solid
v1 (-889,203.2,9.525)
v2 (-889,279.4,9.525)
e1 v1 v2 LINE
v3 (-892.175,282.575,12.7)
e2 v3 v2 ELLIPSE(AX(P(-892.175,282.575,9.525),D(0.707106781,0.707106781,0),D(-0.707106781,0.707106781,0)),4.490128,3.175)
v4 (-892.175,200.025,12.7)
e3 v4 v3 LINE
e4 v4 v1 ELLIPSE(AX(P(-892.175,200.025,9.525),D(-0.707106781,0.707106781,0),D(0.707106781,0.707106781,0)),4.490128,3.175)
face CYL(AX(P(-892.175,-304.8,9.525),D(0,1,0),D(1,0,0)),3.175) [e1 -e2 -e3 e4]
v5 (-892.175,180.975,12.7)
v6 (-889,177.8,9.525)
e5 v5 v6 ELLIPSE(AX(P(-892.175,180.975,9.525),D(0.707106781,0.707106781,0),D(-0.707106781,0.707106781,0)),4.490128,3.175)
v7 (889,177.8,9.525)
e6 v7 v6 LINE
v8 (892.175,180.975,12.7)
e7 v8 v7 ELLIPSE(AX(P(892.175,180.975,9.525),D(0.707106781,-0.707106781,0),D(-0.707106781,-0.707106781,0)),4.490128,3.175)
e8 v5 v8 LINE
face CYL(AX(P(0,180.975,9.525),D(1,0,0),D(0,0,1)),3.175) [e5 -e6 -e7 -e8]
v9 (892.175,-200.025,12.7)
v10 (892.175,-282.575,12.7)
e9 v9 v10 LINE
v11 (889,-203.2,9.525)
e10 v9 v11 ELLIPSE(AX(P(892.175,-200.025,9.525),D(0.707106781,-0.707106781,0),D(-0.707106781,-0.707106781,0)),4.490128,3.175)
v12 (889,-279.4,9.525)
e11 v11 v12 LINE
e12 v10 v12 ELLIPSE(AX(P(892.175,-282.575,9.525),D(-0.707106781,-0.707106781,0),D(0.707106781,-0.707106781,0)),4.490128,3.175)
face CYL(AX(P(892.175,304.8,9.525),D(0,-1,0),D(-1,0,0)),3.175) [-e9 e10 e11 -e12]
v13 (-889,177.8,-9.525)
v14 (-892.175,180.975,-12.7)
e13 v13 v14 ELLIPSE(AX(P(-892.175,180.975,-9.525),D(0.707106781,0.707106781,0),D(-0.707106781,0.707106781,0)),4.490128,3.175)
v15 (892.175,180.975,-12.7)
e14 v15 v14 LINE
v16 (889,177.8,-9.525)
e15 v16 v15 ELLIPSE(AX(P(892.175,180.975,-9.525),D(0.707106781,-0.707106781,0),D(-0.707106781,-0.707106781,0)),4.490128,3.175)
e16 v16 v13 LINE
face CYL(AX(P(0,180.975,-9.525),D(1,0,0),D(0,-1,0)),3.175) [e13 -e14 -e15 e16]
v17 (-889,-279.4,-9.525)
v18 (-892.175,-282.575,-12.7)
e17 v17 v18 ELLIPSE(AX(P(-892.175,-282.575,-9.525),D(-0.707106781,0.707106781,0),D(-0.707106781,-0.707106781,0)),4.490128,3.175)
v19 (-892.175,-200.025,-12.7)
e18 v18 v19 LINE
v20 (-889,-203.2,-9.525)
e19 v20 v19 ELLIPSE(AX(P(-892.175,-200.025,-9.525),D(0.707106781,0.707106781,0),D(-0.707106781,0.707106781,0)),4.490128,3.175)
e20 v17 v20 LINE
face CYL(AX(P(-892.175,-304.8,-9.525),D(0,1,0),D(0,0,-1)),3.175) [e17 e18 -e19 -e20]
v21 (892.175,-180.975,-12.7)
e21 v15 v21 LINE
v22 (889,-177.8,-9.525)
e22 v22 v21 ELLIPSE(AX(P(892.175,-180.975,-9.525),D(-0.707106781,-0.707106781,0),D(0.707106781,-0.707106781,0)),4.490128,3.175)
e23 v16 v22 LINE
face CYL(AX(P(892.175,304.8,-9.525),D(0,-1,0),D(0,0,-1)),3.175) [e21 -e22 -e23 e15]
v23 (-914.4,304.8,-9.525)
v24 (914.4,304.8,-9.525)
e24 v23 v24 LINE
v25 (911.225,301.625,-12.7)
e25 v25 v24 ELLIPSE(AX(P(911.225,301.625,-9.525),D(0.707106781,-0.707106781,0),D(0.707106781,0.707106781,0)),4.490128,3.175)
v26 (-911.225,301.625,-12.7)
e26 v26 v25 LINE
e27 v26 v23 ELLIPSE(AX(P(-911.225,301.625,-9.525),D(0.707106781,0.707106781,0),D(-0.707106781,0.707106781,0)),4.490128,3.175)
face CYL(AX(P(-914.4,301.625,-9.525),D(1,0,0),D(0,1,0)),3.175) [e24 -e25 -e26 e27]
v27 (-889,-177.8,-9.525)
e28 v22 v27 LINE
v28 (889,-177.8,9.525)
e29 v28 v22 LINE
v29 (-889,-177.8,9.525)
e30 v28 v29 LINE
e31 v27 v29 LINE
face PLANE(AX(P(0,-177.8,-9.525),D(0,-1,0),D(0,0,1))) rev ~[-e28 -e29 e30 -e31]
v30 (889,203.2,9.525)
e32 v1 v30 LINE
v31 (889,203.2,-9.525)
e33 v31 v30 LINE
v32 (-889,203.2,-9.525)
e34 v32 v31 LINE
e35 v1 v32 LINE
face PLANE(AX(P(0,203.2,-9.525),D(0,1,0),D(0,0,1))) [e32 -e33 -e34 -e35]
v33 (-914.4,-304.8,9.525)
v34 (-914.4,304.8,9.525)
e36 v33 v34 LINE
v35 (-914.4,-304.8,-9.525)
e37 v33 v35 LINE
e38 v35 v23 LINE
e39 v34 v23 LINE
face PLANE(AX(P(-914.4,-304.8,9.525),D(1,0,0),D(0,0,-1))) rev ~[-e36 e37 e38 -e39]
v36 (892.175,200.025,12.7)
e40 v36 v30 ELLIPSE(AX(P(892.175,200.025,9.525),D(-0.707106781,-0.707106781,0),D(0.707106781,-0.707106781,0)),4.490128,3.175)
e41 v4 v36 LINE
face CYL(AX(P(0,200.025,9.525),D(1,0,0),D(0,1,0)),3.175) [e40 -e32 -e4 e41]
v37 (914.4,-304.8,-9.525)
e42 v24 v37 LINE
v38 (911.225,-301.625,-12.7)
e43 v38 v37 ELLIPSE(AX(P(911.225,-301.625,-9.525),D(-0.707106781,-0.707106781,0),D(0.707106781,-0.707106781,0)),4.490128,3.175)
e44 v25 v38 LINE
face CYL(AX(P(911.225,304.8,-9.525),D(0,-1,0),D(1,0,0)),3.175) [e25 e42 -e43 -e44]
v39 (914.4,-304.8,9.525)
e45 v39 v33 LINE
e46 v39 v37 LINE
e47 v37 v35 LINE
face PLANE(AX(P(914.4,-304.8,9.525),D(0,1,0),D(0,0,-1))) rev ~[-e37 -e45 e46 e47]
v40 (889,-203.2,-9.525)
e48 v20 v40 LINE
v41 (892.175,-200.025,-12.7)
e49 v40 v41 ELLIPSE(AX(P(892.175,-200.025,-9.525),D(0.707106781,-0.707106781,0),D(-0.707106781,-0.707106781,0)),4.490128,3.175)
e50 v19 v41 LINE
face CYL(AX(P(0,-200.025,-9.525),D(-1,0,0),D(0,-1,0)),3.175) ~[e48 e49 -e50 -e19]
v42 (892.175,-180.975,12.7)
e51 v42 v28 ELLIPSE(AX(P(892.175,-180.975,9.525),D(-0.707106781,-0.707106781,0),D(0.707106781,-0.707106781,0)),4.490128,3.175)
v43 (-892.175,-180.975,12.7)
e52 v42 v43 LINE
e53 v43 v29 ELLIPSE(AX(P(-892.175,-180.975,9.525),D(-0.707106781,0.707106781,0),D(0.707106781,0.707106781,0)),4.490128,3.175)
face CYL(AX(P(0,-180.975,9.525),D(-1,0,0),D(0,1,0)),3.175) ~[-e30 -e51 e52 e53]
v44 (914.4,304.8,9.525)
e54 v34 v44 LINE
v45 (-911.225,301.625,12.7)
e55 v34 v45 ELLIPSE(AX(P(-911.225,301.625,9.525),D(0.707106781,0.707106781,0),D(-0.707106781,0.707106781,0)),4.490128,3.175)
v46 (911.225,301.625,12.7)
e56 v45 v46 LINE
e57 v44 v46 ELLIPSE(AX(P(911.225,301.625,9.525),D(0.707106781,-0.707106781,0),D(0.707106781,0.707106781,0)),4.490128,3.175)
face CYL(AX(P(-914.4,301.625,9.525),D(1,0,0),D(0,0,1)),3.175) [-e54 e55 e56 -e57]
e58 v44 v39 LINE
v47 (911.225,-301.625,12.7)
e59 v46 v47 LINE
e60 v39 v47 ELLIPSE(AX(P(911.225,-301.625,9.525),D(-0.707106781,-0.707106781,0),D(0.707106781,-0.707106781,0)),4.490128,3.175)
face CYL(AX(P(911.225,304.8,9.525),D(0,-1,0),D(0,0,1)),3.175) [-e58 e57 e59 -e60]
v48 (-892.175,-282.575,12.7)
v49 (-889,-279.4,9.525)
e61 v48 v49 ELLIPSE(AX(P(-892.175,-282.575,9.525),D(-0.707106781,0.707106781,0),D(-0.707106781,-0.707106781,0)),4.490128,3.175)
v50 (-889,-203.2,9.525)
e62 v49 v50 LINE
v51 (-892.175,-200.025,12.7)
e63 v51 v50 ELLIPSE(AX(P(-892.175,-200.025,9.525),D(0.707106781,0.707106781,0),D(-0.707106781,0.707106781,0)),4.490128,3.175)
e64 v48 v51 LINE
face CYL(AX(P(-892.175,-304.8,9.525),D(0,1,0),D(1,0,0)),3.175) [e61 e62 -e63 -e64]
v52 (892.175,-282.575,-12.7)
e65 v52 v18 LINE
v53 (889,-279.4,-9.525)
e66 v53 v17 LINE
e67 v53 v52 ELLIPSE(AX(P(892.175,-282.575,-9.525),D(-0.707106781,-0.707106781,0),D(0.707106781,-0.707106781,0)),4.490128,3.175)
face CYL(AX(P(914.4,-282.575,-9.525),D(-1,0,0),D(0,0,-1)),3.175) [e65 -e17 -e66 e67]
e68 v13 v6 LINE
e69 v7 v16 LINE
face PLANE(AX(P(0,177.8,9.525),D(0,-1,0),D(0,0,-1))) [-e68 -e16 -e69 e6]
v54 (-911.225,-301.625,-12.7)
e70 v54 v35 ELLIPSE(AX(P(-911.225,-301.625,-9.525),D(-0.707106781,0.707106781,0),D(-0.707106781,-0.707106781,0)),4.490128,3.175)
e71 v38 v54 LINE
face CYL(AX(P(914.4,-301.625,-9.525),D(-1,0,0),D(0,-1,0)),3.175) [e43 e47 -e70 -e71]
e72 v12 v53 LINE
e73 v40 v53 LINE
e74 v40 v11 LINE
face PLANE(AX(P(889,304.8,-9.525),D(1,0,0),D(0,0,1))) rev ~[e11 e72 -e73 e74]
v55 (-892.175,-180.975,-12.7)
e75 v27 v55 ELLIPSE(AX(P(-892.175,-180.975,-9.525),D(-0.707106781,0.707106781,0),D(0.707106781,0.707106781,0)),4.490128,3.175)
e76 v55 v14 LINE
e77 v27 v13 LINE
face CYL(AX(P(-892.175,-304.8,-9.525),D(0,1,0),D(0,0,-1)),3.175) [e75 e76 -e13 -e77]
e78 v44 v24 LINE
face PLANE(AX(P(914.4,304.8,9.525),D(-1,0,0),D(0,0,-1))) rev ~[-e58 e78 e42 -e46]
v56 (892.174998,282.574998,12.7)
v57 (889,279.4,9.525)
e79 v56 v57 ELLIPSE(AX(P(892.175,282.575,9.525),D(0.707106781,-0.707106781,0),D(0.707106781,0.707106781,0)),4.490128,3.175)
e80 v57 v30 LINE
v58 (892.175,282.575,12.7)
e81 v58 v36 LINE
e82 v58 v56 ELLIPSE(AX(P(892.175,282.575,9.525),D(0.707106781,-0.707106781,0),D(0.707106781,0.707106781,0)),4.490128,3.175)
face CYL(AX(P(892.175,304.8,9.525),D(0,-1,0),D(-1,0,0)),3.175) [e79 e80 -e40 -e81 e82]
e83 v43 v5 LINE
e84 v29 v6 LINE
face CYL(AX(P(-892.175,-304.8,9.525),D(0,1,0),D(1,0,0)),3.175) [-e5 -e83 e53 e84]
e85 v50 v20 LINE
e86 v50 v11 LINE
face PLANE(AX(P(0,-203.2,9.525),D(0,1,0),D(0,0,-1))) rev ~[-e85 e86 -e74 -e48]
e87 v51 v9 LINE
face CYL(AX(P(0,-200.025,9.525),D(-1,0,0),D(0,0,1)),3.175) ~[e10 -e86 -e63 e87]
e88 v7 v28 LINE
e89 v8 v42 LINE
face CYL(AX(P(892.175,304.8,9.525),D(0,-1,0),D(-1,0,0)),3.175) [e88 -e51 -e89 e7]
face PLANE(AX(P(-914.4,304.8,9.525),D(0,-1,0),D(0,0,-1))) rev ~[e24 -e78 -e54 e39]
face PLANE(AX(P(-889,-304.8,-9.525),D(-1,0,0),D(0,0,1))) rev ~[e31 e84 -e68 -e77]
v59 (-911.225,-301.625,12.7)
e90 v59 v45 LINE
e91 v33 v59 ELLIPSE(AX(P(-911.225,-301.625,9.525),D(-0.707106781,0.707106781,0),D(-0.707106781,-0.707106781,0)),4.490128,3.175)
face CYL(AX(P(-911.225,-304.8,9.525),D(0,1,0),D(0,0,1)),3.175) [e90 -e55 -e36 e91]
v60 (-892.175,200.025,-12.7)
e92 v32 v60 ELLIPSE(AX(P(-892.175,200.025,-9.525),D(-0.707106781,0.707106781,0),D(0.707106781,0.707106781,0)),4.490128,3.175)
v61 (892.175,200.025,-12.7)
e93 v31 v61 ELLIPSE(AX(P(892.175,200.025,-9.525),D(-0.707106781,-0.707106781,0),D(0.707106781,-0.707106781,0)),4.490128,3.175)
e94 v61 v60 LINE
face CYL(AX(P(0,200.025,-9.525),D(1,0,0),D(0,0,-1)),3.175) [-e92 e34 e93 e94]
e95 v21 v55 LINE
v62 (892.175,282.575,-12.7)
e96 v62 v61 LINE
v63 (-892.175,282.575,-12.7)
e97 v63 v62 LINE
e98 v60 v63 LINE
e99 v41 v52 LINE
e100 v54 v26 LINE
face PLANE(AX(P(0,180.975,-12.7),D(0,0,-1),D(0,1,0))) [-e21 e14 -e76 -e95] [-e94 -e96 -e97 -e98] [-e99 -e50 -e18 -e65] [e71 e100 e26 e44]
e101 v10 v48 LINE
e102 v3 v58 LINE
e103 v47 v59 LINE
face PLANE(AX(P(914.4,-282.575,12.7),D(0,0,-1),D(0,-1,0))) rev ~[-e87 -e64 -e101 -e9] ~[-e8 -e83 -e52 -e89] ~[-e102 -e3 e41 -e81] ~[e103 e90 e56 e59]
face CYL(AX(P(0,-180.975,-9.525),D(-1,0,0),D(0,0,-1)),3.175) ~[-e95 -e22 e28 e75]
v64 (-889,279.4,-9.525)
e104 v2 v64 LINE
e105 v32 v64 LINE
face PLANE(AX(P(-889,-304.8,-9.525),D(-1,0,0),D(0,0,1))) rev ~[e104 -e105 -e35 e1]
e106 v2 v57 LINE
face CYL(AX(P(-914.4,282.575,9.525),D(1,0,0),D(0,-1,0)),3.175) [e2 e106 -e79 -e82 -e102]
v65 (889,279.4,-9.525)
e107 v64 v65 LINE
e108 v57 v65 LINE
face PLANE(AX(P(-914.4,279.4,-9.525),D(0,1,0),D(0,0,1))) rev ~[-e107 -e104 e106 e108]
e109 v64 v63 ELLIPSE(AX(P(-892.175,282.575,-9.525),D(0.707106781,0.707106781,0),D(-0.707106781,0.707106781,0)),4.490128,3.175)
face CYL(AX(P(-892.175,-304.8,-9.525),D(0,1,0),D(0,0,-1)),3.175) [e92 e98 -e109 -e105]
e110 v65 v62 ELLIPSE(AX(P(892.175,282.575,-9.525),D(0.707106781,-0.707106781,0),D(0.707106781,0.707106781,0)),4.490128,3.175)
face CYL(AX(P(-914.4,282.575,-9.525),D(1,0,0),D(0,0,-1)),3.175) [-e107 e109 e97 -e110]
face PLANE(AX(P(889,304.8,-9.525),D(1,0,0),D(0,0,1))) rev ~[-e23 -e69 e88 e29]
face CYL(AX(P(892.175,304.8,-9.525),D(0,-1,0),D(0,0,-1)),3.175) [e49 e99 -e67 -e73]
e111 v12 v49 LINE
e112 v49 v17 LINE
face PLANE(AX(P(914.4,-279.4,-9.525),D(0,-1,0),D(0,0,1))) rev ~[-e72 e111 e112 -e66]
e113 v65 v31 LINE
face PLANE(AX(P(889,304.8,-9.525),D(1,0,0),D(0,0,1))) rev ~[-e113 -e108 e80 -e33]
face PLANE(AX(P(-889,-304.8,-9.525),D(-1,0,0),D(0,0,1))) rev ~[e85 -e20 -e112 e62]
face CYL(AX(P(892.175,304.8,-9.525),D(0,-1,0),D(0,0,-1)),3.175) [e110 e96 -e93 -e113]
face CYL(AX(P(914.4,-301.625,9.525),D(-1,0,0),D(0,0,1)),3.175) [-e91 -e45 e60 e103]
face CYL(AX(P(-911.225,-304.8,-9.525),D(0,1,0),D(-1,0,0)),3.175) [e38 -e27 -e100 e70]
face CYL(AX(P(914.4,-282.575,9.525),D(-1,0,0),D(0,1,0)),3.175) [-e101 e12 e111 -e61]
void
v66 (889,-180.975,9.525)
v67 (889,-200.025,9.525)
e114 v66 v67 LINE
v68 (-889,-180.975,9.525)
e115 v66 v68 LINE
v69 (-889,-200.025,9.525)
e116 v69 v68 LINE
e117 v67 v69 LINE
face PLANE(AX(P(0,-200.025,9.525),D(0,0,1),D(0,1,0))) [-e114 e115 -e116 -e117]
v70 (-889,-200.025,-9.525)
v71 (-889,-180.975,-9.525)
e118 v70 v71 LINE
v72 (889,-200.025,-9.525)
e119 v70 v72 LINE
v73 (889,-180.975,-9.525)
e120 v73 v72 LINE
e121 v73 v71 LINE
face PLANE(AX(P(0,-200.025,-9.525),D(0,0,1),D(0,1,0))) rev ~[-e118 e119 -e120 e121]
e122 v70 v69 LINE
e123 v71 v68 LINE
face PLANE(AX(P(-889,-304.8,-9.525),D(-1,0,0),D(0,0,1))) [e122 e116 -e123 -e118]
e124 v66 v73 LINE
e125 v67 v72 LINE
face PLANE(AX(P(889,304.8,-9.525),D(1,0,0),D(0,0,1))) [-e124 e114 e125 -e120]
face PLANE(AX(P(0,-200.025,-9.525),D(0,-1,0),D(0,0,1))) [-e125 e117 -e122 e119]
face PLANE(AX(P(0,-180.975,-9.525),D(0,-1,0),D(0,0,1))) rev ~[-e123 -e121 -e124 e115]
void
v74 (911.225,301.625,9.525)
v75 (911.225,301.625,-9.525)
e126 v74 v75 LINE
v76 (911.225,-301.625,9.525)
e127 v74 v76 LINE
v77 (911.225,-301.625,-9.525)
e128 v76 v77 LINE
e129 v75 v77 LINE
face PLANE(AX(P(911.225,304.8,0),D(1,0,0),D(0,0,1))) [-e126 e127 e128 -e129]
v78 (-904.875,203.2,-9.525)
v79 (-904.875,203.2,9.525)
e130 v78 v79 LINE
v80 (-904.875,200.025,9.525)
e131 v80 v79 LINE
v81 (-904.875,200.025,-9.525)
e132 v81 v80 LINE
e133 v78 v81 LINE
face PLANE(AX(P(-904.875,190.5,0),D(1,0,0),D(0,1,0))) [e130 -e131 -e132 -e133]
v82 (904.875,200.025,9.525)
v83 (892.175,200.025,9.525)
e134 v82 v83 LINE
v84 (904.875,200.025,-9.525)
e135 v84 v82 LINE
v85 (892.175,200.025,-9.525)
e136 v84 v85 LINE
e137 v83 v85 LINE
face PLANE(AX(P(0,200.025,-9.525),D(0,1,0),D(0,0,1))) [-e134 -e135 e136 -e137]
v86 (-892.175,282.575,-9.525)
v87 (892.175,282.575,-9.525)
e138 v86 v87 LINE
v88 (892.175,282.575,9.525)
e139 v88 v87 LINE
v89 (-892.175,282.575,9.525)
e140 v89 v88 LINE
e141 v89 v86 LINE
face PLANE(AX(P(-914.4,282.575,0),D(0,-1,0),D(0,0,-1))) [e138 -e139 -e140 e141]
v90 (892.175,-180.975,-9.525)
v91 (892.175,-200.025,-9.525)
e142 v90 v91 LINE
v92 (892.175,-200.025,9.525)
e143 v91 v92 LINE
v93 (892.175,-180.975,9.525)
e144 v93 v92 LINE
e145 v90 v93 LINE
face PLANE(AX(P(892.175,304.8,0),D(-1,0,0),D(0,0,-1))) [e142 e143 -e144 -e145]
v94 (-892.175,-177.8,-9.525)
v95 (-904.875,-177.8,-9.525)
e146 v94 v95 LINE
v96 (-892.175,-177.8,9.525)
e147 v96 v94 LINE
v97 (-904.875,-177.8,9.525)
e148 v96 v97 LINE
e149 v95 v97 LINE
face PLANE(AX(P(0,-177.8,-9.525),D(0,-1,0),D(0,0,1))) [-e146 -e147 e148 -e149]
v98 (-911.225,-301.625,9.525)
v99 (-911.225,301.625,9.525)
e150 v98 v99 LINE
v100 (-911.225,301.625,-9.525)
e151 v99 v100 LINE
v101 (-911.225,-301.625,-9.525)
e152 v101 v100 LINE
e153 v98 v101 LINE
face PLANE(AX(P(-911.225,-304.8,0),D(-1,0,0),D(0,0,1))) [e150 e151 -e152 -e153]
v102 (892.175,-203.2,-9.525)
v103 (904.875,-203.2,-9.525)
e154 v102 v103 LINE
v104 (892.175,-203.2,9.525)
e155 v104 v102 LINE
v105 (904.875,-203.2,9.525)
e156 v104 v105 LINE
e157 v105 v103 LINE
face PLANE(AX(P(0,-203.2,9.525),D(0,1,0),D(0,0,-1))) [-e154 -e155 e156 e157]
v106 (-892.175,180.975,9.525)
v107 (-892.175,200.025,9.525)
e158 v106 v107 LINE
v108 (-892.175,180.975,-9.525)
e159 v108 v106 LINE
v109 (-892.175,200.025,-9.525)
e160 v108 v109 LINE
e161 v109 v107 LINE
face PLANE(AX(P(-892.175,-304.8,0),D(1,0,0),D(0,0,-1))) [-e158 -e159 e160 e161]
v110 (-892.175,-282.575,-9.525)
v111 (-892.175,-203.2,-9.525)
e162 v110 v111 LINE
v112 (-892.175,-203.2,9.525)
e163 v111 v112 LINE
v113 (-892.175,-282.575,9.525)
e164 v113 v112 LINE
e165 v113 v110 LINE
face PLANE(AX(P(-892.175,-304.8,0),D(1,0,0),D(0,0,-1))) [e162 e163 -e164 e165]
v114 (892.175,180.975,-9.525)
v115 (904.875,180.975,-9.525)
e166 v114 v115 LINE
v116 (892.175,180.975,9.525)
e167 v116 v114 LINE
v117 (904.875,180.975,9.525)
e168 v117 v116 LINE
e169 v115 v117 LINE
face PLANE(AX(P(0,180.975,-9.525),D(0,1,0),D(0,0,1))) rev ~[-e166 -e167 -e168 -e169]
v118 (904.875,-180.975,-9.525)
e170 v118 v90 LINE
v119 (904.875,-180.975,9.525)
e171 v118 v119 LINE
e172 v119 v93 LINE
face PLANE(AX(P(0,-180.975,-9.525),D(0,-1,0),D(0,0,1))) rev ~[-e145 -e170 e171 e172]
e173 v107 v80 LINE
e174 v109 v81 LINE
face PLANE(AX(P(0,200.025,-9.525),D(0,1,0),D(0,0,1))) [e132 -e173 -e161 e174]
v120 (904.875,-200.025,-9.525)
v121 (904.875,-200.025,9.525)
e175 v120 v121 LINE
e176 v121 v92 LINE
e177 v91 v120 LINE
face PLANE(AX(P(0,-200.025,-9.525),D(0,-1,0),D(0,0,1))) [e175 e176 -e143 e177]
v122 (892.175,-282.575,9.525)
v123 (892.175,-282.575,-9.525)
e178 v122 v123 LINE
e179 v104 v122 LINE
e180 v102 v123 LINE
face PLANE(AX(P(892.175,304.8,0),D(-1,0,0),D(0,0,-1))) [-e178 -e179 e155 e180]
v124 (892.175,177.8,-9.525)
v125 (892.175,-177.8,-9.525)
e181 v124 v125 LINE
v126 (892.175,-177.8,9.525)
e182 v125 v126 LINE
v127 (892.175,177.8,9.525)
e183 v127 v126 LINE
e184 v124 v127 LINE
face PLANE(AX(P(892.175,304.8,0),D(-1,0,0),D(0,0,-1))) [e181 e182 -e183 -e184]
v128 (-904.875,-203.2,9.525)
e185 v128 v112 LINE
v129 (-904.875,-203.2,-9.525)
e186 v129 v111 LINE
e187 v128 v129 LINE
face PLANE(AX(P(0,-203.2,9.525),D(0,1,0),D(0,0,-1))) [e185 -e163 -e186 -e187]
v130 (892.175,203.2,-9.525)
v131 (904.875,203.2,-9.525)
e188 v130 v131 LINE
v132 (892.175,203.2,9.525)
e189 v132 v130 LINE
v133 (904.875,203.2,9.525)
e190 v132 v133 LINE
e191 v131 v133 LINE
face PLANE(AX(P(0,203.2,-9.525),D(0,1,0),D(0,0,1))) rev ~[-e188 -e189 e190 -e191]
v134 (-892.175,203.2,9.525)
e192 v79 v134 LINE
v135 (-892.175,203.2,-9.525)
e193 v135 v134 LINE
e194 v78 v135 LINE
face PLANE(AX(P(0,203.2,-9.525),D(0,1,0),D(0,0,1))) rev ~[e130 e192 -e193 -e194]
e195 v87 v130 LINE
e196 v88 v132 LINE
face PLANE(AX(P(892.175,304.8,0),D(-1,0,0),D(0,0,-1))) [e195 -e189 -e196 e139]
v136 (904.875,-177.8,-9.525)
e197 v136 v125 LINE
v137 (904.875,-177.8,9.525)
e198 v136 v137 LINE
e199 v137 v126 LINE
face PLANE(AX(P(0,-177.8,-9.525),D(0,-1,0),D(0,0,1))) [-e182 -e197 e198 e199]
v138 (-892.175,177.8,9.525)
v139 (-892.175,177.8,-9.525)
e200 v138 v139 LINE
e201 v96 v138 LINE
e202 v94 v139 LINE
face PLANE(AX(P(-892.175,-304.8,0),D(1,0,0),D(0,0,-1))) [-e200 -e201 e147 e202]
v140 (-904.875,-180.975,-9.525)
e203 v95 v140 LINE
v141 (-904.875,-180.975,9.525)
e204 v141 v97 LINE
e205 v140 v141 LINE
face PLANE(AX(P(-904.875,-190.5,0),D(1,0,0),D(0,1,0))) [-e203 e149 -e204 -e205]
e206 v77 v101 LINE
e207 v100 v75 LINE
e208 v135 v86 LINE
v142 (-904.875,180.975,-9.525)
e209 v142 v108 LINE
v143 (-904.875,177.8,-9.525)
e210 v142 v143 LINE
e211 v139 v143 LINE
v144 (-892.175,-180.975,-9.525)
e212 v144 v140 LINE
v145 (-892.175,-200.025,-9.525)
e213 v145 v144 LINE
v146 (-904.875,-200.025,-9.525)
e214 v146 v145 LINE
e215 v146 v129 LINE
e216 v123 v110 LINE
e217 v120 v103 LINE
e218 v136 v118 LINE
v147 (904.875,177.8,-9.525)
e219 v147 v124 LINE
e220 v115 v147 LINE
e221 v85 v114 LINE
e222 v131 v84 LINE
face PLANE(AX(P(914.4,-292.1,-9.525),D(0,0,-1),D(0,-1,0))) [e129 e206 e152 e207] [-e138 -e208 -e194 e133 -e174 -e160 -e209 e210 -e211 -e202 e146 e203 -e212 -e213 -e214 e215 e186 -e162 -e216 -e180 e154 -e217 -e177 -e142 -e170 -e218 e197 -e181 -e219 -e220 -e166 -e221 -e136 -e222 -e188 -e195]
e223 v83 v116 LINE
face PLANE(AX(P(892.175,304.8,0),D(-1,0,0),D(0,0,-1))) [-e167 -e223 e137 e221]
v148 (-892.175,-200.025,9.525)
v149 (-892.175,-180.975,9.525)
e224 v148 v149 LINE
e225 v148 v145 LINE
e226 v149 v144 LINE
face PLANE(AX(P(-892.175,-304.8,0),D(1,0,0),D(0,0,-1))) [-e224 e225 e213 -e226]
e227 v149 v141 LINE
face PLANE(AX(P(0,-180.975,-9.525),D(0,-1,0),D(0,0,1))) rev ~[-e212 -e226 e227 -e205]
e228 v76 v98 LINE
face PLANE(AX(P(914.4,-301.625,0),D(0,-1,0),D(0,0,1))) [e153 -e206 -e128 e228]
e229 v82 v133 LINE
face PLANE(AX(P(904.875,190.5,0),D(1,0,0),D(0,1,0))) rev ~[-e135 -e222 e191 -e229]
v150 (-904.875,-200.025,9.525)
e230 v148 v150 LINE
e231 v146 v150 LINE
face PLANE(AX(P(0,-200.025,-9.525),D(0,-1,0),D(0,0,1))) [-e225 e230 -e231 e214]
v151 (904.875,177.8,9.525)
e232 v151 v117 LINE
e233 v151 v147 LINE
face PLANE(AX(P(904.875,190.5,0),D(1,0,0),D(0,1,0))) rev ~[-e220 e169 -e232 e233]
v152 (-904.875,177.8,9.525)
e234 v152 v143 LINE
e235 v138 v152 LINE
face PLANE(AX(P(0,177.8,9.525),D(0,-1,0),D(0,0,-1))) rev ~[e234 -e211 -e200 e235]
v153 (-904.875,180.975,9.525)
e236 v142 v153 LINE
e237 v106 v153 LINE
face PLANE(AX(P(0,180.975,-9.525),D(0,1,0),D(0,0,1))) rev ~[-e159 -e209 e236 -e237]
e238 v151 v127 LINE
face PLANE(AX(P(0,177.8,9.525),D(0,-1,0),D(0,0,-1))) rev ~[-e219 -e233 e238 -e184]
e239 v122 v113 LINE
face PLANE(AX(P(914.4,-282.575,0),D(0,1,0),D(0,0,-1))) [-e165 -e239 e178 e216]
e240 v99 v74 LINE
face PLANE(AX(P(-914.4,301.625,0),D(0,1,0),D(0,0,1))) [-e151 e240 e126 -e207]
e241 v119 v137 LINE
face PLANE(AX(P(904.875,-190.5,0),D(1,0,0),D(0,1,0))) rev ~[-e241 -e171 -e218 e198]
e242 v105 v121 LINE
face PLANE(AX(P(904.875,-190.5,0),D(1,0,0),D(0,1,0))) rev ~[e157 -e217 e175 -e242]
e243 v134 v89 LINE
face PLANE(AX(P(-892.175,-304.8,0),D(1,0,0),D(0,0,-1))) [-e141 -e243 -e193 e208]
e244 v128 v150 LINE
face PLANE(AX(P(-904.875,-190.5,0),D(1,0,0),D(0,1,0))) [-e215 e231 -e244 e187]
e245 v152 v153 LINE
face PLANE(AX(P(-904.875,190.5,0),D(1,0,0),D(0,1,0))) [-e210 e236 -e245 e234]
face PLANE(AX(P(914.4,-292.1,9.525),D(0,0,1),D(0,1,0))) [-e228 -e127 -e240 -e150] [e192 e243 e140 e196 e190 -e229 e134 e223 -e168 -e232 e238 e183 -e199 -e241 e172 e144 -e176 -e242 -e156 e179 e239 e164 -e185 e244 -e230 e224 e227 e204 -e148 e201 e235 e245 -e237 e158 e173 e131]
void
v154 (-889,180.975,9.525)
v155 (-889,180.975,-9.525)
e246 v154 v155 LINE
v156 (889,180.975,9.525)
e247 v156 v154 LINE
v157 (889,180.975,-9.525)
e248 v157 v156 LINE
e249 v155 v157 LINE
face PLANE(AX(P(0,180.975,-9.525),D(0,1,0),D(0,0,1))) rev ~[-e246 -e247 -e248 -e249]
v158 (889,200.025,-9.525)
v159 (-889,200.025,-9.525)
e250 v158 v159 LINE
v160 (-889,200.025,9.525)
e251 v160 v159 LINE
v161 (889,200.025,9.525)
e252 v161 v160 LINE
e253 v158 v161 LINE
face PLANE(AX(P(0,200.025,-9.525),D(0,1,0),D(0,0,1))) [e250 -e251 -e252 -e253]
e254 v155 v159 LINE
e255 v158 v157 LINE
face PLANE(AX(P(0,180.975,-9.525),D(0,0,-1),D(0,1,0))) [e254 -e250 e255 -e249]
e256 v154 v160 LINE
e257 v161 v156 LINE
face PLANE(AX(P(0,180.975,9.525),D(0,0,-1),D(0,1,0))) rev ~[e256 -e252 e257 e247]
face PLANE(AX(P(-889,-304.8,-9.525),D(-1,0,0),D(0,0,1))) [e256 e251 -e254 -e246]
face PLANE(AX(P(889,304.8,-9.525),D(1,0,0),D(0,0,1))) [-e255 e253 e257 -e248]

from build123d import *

# Parameters (mm, degrees)
F0_W     = 19.05
F0_H     = 19.05
F3_W     = 19.05
F3_H     = 19.05
F4_DEPTH = 904.875


with BuildPart() as f2:
    # F2: sweep along a path in F1
    with BuildLine(Plane.XY) as f2_path:
        Line((914.4, -304.8), (-914.4, -304.8))
        Line((-914.4, -304.8), (-914.4, 304.8))
        Line((-914.4, 304.8), (914.4, 304.8))
        Line((914.4, 304.8), (914.4, -304.8))
    # F0 (on Right) → F2 (sweep)
    with BuildSketch(Plane.YZ):
        with BuildLine():
            Line((-282.575, 12.7), (-301.625, 12.7))
            ThreePointArc((-301.625, 12.7), (-303.8700640303, 11.7700640303), (-304.8, 9.525))
            Line((-304.8, 9.525), (-304.8, -9.525))
            ThreePointArc((-304.8, -9.525), (-303.8700640303, -11.7700640303), (-301.625, -12.7))
            Line((-301.625, -12.7), (-282.575, -12.7))
            ThreePointArc((-282.575, -12.7), (-280.3299359697, -11.7700640303), (-279.4, -9.525))
            Line((-279.4, -9.525), (-279.4, 9.525))
            ThreePointArc((-279.4, 9.525), (-280.3299359697, 11.7700640303), (-282.575, 12.7))
        make_face()
        with Locations((-292.1, 0)):
            Rectangle(F0_W, F0_H, mode=Mode.SUBTRACT)
    sweep(path=f2_path.line, transition=Transition.RIGHT)

    # F3 (on Right) → F4 (join, symmetric)
    with BuildSketch(Plane.YZ):
        with BuildLine():
            Line((-180.975, 12.7), (-200.025, 12.7))
            ThreePointArc((-200.025, 12.7), (-202.2700640303, 11.7700640303), (-203.2, 9.525))
            Line((-203.2, 9.525), (-203.2, -9.525))
            ThreePointArc((-203.2, -9.525), (-202.2700640303, -11.7700640303), (-200.025, -12.7))
            Line((-200.025, -12.7), (-180.975, -12.7))
            ThreePointArc((-180.975, -12.7), (-178.7299359697, -11.7700640303), (-177.8, -9.525))
            Line((-177.8, -9.525), (-177.8, 9.525))
            ThreePointArc((-177.8, 9.525), (-178.7299359697, 11.7700640303), (-180.975, 12.7))
        make_face()
        with Locations((-190.5, 0)):
            Rectangle(F3_W, F3_H, mode=Mode.SUBTRACT)
        with BuildLine():
            ThreePointArc((200.025, -12.7), (202.2700640303, -11.7700640303), (203.2, -9.525))
            Line((203.2, -9.525), (203.2, 9.525))
            ThreePointArc((203.2, 9.525), (202.2700640303, 11.7700640303), (200.025, 12.7))
            Line((200.025, 12.7), (180.975, 12.7))
            ThreePointArc((180.975, 12.7), (178.7299359697, 11.7700640303), (177.8, 9.525))
            Line((177.8, 9.525), (177.8, -9.525))
            ThreePointArc((177.8, -9.525), (178.7299359697, -11.7700640303), (180.975, -12.7))
            Line((180.975, -12.7), (200.025, -12.7))
        make_face()
        with Locations((190.5, 0)):
            Rectangle(F3_W, F3_H, mode=Mode.SUBTRACT)
    extrude(amount=F4_DEPTH, both=True)


solid = f2.part
